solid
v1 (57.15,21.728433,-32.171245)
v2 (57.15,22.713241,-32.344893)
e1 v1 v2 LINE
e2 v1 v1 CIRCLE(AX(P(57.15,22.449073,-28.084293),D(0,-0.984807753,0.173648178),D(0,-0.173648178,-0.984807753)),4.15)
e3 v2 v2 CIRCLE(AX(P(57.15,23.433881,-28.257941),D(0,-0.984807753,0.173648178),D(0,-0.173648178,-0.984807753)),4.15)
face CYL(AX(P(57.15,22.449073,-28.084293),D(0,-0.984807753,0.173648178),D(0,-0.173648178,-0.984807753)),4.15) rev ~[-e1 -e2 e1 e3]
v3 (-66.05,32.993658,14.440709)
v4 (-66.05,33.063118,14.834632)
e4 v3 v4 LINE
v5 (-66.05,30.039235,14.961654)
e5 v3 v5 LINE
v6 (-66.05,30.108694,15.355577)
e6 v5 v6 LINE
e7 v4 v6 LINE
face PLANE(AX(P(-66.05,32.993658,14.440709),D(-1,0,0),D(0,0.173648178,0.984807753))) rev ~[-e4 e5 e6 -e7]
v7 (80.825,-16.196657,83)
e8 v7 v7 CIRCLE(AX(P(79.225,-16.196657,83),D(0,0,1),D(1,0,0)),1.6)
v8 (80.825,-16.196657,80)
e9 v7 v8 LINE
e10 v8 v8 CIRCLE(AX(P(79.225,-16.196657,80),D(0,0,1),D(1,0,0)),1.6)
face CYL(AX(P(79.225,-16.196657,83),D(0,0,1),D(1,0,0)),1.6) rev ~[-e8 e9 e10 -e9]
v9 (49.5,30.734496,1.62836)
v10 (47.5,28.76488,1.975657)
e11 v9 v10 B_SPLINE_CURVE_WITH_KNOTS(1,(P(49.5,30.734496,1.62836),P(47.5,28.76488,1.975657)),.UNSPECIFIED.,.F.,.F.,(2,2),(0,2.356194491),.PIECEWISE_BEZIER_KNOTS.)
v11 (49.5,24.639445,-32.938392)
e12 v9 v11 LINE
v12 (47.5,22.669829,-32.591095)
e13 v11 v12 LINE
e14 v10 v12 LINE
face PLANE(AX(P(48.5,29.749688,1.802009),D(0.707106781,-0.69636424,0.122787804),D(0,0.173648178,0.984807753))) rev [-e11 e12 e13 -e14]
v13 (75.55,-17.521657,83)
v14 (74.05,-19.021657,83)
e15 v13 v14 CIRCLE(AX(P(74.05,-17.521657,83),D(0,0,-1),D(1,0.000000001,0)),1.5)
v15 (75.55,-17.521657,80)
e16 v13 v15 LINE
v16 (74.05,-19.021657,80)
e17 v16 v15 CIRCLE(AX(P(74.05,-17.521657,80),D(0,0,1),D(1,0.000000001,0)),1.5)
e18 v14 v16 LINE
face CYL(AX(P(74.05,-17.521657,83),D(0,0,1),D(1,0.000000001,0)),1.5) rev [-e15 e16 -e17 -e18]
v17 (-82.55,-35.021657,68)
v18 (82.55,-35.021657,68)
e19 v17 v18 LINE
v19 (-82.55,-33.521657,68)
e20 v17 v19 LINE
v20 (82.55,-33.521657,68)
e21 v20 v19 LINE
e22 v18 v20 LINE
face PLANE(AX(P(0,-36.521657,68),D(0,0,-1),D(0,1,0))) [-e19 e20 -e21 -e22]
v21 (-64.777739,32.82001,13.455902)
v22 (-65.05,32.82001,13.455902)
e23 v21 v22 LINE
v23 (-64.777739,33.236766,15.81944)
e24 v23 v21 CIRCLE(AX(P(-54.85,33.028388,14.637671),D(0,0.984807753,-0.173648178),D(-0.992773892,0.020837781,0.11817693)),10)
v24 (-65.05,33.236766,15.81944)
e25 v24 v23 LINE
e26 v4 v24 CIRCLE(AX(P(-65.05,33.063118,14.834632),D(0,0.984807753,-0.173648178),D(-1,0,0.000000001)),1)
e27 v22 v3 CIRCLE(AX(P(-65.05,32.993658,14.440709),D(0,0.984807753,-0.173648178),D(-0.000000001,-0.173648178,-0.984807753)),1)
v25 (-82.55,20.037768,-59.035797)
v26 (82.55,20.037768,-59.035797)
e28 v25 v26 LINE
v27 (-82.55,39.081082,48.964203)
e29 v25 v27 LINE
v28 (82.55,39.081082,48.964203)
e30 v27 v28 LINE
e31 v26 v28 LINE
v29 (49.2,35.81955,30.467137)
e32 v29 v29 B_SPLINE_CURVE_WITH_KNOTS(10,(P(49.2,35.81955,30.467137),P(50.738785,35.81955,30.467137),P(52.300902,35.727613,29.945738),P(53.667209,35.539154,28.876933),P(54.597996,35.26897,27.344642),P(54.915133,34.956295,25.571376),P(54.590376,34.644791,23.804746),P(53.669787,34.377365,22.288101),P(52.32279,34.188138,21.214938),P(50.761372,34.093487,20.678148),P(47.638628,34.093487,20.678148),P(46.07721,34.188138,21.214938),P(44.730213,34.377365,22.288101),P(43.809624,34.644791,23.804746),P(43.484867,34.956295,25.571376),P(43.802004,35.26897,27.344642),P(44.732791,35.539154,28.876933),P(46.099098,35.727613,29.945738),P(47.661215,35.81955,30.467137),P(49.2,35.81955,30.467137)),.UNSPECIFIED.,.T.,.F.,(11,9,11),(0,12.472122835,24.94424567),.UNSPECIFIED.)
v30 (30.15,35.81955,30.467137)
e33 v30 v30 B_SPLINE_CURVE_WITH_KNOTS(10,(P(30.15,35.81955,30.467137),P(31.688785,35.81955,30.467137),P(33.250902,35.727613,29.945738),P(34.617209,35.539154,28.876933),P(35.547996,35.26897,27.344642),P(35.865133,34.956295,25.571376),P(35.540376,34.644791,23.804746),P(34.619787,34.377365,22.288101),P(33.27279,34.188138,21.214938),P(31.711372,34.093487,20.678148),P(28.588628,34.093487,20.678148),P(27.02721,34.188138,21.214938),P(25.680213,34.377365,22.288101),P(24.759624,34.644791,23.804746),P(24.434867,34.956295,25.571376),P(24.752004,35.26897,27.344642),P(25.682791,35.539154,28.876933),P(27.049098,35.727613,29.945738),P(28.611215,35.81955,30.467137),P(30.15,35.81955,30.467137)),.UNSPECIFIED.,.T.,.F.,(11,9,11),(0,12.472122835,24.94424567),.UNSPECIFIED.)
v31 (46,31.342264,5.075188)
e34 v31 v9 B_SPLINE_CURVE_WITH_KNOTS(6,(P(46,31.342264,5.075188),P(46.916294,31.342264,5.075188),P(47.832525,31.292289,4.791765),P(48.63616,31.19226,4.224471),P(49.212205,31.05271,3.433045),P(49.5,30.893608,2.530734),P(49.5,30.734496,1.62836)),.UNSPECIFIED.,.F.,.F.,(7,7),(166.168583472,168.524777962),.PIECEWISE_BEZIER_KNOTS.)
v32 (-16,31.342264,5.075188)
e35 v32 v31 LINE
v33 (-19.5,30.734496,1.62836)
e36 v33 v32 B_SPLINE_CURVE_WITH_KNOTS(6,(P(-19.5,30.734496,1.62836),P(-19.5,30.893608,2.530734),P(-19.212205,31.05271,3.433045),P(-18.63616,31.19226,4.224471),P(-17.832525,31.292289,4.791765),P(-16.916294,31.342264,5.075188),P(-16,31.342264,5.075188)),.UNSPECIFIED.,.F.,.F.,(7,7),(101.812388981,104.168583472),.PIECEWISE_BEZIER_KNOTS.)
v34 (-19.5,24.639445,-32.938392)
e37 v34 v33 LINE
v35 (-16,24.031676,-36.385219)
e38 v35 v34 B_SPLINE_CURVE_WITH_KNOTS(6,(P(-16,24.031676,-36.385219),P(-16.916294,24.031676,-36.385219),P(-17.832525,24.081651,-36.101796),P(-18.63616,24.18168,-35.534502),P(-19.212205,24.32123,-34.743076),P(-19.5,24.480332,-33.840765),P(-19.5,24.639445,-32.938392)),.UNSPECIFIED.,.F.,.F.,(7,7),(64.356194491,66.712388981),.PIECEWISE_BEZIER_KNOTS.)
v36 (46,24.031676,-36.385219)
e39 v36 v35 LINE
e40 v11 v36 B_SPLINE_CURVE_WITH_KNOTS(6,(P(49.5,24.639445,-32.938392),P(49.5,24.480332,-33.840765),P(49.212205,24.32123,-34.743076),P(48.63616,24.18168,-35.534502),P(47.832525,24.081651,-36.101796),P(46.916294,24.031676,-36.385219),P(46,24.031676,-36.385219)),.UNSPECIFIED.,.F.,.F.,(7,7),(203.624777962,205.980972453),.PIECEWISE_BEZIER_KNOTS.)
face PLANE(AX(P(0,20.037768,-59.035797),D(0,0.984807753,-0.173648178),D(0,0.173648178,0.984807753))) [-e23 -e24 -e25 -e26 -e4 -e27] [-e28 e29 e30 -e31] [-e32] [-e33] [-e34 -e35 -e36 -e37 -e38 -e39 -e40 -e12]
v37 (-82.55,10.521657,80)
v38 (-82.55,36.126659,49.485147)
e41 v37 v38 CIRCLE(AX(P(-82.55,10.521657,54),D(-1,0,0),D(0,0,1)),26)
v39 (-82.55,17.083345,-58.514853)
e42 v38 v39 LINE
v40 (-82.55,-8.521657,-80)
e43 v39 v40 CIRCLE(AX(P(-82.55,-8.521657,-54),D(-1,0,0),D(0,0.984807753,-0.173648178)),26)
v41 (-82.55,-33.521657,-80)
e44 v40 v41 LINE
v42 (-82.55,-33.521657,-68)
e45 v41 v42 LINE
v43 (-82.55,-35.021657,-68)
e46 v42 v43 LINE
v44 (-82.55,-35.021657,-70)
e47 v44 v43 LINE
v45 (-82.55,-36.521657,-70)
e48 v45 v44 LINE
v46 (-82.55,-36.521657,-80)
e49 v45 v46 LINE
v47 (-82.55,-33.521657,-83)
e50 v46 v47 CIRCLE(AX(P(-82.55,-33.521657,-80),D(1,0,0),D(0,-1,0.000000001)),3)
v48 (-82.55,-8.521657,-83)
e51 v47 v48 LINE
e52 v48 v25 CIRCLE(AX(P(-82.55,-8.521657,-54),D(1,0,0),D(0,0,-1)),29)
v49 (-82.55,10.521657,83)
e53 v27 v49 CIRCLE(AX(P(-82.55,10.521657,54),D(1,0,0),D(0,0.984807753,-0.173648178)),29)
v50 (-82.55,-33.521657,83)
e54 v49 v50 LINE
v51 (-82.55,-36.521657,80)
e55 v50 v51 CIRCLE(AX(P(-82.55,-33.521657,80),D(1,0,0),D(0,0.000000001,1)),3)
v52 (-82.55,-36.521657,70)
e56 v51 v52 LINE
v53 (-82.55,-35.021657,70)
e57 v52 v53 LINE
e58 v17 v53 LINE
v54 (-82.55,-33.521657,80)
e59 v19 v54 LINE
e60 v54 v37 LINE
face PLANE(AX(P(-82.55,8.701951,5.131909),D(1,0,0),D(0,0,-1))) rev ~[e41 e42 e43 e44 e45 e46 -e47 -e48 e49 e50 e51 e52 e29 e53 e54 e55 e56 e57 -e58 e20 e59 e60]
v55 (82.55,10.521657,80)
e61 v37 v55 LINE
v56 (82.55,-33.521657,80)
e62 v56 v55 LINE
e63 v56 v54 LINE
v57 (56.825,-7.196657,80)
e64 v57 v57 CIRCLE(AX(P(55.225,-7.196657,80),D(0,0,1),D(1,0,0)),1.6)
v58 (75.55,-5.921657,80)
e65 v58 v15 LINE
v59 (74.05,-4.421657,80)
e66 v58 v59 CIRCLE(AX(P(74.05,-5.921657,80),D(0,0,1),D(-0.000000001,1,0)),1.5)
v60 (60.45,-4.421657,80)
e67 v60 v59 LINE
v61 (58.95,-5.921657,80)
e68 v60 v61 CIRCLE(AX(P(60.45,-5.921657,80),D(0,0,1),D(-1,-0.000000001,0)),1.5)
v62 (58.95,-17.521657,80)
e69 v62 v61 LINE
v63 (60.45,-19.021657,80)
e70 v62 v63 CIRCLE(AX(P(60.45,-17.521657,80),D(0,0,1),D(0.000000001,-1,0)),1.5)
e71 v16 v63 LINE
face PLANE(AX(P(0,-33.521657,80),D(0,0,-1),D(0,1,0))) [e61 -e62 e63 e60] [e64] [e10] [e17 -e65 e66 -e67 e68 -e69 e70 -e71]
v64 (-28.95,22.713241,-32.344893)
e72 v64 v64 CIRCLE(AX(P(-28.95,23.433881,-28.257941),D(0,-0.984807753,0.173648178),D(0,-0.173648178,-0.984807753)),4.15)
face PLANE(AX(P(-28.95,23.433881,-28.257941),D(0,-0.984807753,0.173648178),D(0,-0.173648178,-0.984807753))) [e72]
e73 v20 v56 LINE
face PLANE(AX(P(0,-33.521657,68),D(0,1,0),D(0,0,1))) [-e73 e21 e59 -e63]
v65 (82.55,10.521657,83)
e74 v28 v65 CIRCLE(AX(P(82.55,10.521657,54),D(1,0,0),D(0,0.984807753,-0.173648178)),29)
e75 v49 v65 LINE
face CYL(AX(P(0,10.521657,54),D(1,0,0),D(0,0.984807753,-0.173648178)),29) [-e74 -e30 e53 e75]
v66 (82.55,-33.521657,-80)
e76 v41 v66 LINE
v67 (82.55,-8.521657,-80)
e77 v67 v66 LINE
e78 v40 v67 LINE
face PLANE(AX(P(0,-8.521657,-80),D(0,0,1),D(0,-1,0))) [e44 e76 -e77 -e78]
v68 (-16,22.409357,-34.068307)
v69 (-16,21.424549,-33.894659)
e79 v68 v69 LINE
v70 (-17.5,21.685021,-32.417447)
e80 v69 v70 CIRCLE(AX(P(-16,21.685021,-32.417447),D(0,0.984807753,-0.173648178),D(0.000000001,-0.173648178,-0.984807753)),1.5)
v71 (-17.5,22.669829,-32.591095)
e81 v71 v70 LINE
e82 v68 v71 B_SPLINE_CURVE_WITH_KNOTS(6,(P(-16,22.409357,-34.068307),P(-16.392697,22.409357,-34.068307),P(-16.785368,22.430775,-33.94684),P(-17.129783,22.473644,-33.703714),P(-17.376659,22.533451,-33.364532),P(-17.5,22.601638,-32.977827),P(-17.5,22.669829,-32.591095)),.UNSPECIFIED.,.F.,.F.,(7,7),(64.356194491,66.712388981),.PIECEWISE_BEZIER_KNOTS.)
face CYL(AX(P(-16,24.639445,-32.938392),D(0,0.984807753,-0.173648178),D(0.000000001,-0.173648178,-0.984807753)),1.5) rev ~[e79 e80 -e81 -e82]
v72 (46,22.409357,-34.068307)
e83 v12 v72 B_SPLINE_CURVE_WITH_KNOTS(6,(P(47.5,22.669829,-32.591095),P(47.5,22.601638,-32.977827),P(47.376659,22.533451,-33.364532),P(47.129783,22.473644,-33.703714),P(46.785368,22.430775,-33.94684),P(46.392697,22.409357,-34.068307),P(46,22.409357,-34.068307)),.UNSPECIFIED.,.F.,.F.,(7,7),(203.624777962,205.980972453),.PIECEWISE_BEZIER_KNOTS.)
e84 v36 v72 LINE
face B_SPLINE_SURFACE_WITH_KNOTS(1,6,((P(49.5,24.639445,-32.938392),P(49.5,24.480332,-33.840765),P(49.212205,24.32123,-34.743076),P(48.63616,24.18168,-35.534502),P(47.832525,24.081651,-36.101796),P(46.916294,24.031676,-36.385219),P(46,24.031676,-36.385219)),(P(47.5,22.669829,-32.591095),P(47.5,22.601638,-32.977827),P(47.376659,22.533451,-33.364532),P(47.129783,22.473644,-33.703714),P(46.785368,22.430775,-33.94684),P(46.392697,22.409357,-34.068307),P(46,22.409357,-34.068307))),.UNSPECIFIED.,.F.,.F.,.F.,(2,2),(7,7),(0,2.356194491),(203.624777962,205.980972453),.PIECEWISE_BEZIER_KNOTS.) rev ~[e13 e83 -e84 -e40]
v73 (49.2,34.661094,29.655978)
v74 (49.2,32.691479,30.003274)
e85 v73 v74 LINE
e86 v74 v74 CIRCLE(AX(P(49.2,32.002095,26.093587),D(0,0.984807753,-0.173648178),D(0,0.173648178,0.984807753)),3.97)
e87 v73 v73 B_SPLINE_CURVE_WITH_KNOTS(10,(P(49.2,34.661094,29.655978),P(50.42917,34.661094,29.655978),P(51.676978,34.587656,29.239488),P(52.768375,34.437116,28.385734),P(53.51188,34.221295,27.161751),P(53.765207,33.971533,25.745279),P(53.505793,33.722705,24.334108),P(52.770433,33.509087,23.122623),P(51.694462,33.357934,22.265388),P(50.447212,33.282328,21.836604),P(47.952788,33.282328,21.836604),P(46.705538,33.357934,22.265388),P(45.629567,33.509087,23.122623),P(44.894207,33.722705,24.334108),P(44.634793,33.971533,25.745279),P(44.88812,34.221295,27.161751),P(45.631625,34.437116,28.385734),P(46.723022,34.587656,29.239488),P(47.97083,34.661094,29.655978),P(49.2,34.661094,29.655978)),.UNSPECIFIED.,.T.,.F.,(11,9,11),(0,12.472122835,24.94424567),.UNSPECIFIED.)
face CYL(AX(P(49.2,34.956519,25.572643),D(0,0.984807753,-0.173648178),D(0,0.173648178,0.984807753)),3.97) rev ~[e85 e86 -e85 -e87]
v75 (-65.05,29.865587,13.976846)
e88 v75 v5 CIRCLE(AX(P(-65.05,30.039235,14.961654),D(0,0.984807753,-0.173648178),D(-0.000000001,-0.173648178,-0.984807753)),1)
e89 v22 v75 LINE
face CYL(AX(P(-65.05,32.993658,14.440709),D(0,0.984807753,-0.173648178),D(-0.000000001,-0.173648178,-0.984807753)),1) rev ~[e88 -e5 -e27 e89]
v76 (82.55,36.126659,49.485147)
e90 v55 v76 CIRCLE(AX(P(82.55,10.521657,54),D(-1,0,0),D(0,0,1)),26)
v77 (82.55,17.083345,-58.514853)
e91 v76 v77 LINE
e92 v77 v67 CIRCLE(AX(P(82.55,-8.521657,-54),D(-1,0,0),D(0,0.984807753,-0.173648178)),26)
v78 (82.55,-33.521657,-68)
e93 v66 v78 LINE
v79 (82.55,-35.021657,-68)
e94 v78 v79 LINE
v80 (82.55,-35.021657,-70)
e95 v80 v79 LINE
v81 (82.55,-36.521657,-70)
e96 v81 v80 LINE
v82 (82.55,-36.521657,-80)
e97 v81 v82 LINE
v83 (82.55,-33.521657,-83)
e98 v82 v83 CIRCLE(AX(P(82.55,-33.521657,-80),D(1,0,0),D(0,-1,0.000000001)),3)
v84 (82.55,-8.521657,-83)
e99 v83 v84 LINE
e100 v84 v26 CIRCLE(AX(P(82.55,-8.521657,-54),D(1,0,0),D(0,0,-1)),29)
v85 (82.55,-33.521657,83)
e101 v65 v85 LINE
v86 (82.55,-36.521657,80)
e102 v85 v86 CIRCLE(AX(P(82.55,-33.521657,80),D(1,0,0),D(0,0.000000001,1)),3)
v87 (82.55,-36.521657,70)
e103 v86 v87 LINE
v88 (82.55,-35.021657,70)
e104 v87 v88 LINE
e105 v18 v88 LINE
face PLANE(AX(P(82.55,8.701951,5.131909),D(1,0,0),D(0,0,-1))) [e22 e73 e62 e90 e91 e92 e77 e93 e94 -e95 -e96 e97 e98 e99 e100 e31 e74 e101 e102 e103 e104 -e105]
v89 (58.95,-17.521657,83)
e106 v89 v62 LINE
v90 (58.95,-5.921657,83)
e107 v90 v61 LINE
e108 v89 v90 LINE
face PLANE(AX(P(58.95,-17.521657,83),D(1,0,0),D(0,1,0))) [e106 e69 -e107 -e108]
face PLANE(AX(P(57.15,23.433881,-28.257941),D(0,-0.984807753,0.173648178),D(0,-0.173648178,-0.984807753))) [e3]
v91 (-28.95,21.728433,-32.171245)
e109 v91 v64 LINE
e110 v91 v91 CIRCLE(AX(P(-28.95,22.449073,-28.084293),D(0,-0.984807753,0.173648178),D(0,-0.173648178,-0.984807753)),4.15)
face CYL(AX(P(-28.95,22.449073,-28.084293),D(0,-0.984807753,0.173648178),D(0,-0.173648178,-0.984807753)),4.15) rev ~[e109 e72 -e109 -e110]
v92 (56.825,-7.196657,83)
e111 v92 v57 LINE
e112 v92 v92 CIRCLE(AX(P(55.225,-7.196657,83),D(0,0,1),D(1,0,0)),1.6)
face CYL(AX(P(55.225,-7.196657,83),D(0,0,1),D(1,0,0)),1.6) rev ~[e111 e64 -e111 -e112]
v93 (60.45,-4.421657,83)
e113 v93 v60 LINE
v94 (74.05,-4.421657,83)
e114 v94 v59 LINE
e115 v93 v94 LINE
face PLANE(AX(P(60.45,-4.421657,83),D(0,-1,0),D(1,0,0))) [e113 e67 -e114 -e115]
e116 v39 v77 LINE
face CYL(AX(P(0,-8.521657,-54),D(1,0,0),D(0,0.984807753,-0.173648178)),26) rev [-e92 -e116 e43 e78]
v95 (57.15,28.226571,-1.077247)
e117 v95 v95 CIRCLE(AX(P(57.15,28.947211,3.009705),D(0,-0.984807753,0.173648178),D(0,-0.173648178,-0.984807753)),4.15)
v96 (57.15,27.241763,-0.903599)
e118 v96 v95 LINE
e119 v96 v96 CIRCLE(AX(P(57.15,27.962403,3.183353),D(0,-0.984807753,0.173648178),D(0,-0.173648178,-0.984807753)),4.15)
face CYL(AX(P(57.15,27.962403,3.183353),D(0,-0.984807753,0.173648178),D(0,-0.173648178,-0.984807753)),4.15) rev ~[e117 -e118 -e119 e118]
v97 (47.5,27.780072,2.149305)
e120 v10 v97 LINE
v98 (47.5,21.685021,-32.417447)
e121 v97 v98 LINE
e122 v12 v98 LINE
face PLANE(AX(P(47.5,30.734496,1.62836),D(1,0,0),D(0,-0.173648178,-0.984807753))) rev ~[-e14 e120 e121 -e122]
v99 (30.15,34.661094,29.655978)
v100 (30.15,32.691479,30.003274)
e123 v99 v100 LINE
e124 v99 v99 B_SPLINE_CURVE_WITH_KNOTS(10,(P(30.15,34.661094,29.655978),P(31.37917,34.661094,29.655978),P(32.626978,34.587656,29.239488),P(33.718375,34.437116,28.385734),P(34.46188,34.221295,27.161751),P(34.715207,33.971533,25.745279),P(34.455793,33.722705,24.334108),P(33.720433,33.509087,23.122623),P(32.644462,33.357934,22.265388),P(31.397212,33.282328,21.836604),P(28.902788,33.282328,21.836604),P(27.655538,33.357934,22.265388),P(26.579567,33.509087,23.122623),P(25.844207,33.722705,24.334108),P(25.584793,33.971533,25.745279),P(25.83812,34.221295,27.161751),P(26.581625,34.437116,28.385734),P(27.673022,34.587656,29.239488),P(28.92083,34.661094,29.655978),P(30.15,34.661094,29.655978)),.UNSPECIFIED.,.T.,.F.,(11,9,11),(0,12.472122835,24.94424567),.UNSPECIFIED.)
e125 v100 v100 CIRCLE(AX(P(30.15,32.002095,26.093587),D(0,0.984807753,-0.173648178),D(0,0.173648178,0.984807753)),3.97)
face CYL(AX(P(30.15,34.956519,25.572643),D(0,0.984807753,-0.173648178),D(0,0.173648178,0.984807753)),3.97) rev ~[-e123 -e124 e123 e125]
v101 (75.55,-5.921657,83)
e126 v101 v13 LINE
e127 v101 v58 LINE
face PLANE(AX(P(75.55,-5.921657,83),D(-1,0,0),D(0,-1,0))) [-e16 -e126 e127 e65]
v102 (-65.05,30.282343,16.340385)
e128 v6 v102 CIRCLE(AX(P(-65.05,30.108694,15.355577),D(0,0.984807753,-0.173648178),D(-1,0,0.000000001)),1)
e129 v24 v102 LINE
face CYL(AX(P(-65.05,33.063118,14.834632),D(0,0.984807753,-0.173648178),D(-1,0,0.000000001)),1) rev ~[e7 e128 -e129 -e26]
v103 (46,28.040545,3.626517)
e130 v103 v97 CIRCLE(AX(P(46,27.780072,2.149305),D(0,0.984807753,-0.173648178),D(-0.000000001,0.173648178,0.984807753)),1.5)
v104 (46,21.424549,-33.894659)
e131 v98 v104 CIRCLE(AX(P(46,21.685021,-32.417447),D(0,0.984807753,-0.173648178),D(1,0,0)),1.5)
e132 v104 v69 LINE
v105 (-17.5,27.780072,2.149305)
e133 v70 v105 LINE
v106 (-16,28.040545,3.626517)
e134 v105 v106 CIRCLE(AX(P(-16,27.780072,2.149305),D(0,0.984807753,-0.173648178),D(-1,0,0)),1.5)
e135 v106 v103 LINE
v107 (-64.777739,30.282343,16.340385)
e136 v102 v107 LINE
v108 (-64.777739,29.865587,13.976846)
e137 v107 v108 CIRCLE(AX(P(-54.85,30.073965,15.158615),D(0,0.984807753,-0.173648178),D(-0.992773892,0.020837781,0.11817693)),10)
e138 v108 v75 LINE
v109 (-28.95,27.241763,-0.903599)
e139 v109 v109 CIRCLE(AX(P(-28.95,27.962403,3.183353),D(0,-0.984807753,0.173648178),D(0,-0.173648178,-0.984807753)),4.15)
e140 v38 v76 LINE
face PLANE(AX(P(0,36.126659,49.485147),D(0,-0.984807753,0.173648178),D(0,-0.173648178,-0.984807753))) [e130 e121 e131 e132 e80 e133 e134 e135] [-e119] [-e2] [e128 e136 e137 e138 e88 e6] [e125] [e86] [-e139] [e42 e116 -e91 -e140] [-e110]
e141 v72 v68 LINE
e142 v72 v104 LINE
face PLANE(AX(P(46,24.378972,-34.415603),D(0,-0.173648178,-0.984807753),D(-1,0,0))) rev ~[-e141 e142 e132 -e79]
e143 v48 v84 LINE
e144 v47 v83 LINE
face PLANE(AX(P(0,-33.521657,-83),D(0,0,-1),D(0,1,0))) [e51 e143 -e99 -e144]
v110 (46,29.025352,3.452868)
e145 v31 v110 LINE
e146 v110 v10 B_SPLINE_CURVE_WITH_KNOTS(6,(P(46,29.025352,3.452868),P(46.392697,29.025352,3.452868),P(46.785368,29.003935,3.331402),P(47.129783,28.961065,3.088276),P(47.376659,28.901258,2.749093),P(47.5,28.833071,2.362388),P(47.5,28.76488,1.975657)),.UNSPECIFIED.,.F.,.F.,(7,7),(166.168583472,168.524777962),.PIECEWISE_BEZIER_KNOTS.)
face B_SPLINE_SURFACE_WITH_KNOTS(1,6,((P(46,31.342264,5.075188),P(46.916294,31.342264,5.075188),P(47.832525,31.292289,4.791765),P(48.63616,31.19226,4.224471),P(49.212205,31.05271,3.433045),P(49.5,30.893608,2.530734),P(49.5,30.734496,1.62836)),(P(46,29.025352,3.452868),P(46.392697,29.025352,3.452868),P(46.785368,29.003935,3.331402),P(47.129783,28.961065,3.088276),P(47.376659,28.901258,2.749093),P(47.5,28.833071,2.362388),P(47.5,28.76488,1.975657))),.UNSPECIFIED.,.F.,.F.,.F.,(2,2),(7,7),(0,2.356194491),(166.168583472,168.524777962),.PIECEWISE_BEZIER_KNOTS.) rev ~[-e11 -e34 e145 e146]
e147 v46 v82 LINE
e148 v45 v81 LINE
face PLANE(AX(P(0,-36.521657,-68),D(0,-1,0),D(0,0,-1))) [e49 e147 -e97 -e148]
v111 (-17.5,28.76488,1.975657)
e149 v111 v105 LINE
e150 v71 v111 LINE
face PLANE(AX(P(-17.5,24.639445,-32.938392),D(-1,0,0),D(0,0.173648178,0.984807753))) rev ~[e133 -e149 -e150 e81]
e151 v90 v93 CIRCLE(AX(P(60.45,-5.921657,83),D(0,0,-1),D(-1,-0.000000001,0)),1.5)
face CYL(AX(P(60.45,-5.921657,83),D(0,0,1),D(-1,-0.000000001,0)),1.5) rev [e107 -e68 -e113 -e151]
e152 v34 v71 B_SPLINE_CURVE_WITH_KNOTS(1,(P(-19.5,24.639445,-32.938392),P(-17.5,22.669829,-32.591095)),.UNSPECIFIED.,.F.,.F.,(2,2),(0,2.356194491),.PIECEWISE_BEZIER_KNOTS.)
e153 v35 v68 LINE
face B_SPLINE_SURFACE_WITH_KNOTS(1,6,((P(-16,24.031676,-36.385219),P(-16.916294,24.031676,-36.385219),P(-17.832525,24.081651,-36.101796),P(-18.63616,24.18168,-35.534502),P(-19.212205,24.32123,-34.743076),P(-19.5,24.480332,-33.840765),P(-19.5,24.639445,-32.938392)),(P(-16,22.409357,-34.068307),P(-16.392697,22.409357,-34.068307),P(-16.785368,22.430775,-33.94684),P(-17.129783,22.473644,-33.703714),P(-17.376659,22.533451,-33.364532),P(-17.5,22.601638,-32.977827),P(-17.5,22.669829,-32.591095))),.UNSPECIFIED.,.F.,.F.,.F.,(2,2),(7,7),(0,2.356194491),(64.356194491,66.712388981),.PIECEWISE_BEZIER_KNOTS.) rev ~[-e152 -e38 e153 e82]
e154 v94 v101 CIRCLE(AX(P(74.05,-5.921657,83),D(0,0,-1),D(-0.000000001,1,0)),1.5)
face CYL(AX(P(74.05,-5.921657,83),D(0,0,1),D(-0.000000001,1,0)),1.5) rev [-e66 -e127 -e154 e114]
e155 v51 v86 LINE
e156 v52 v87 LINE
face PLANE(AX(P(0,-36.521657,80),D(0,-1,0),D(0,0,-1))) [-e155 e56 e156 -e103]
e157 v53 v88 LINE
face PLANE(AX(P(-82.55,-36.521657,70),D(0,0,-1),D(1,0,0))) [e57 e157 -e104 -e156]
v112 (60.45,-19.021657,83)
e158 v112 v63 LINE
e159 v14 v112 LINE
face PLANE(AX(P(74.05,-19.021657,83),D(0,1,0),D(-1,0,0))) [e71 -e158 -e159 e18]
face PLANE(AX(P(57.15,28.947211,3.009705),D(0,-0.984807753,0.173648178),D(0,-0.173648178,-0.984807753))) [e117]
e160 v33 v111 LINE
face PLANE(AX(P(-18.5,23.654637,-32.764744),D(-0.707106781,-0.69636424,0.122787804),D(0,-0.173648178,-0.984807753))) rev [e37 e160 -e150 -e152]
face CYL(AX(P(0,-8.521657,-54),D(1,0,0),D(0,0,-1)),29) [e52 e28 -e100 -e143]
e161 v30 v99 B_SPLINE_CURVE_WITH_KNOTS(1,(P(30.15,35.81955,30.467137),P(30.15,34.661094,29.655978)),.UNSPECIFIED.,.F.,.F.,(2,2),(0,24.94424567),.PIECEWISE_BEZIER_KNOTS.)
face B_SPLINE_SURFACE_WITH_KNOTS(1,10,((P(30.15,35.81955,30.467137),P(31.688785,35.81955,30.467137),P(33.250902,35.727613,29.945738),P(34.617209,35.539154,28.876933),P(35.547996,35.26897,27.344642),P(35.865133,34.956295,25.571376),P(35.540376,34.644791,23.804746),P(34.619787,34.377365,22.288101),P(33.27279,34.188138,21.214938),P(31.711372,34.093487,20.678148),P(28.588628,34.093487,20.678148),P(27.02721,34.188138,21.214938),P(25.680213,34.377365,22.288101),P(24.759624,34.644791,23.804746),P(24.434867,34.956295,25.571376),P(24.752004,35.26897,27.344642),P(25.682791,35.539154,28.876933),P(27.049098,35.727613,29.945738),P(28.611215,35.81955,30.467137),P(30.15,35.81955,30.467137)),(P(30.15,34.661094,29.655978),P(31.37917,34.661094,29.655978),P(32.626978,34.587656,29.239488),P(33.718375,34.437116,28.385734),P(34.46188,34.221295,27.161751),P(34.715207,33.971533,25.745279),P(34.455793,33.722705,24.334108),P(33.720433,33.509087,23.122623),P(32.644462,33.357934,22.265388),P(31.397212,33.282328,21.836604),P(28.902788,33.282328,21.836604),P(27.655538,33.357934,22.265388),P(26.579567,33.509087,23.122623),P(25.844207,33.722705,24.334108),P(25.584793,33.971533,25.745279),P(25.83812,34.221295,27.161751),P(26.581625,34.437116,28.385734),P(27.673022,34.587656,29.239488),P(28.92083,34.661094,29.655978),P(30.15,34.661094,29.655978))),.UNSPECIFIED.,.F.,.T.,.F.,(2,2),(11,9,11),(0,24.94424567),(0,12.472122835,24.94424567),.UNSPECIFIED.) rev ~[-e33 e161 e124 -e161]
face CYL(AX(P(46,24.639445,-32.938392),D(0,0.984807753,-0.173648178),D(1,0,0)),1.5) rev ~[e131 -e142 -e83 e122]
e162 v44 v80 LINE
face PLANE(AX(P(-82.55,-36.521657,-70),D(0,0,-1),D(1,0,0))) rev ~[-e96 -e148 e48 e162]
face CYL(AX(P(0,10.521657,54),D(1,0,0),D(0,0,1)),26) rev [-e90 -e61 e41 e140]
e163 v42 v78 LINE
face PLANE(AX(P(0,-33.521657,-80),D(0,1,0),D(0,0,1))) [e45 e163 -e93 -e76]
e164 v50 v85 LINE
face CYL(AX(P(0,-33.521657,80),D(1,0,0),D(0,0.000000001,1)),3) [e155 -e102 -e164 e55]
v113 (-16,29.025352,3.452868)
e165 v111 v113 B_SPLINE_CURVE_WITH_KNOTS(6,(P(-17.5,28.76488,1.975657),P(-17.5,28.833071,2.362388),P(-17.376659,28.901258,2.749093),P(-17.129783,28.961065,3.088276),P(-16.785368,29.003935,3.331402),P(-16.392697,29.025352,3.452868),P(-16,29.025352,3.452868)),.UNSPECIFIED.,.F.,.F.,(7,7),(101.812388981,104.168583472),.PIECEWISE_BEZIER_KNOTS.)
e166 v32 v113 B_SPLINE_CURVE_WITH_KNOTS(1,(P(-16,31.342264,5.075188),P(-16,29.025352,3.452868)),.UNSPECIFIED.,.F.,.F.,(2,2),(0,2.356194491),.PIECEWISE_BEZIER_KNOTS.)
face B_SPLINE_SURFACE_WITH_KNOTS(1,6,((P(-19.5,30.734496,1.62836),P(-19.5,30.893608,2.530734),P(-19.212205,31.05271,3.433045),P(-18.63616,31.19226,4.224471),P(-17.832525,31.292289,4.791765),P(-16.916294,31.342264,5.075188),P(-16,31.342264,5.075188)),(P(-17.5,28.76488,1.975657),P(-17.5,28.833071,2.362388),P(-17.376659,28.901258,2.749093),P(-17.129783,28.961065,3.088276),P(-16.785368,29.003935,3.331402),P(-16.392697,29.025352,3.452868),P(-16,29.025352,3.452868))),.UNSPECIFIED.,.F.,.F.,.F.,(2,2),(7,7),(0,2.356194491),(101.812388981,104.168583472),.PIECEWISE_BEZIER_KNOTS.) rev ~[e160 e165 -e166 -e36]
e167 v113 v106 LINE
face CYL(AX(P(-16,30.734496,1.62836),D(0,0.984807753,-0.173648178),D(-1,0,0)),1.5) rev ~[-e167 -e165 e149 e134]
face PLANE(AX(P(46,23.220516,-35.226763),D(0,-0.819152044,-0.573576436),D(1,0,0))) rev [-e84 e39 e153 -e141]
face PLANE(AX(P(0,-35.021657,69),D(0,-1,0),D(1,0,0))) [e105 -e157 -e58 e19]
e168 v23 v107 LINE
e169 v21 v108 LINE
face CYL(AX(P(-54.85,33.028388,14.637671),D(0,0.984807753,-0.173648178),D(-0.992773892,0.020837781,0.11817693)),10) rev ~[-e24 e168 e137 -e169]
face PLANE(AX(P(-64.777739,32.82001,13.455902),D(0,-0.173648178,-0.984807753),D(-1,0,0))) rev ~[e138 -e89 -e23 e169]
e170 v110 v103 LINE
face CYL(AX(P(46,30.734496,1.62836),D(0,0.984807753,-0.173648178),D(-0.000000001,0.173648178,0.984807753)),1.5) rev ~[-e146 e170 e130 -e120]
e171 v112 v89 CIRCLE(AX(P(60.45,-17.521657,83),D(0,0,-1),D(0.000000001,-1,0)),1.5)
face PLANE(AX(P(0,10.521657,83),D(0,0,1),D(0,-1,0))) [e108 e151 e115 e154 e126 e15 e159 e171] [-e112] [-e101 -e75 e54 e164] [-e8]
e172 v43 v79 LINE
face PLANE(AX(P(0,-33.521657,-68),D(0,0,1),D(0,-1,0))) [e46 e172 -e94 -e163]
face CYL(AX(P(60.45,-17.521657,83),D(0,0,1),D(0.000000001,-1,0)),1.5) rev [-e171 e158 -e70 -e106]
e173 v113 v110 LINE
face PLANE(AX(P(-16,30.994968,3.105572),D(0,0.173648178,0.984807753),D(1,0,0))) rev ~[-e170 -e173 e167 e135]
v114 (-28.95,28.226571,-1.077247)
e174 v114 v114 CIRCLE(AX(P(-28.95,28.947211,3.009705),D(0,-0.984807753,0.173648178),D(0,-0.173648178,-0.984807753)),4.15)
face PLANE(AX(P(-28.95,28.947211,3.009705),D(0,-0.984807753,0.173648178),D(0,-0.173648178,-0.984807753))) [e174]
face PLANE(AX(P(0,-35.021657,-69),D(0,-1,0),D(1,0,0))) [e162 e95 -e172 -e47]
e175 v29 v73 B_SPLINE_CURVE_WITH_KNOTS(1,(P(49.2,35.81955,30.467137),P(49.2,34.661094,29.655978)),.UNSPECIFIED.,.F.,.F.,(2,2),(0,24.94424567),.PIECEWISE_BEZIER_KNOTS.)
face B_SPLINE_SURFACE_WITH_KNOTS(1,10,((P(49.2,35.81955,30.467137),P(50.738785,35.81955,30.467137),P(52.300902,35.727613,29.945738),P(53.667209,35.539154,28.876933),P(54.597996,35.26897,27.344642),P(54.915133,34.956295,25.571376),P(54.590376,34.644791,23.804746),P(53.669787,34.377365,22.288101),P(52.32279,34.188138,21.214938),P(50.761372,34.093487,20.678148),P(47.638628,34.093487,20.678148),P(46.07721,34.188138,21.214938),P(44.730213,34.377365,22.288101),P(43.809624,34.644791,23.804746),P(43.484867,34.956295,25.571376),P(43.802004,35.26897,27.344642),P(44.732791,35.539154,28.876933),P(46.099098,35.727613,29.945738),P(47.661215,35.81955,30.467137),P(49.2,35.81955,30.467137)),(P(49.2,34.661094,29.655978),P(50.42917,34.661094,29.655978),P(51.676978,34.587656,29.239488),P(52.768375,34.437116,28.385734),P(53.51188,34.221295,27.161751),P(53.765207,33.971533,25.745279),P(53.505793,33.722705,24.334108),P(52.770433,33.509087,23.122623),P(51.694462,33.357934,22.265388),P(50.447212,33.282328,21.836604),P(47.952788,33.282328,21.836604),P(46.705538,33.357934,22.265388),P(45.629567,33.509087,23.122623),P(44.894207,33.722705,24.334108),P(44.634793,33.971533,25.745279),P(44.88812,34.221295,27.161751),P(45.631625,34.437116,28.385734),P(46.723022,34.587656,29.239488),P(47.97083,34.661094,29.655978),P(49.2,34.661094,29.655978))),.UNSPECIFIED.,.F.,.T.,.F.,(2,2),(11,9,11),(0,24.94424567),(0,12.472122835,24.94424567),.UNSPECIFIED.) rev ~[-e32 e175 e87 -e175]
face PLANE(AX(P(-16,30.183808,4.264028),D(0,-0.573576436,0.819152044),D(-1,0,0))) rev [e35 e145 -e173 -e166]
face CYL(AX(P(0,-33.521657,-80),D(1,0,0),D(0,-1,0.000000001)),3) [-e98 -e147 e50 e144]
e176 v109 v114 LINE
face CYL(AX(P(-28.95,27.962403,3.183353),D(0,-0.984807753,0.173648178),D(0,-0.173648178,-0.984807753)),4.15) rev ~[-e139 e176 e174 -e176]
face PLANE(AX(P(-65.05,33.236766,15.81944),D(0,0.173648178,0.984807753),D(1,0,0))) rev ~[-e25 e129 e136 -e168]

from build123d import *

# Parameters (mm, degrees)
BOSS_EXTRUDE1_DEPTH = 82.55
CUT_EXTRUDE1_REACH  = 139.687
CUT_EXTRUDE2_REACH  = 139.687
SKETCH3_R           = 3.97
SKETCH5_R           = 4.15
CUT_EXTRUDE4_DEPTH  = 1
CUT_EXTRUDE5_REACH  = 191.559
SKETCH6_R           = 1.6
CHAMFER1_SIZE       = 2
CHAMFER2_SIZE       = 1
SKETCH7_W           = 165.1
SKETCH7_H           = 2
CUT_EXTRUDE6_DEPTH  = 1.5


with BuildPart() as part:
    # Sketch1 → Boss-Extrude1 (new, symmetric)
    with BuildSketch(Plane(origin=(0, 0, 0), x_dir=(0, 0, -1), z_dir=(1, 0, 0))):
        with BuildLine():
            Line((-80, -33.521656958), (-80, 10.521656958))
            ThreePointArc((-80, 10.521656958), (-70.712477852, 30.438812479), (-49.485147381, 36.126658537))
            Line((-49.485147381, 36.126658537), (58.514852619, 17.08334462))
            ThreePointArc((58.514852619, 17.08334462), (73.917155521, 8.190820894), (80, -8.521656958))
            Line((80, -8.521656958), (80, -33.521656958))
            Line((80, -33.521656958), (68, -33.521656958))
            Line((68, -33.521656958), (68, -36.521656958))
            Line((68, -36.521656958), (80, -36.521656958))
            ThreePointArc((80, -36.521656958), (82.121320344, -35.642977302), (83, -33.521656958))
            Line((83, -33.521656958), (83, -8.521656958))
            ThreePointArc((83, -8.521656958), (76.21528885, 10.119183723), (59.035797152, 20.037767879))
            Line((59.035797152, 20.037767879), (-48.964202848, 39.081081796))
            ThreePointArc((-48.964202848, 39.081081796), (-72.640840681, 32.736945809), (-83, 10.521656958))
            Line((-83, 10.521656958), (-83, -33.521656958))
            ThreePointArc((-83, -33.521656958), (-82.121320344, -35.642977302), (-80, -36.521656958))
            Line((-80, -36.521656958), (-68, -36.521656958))
            Line((-68, -36.521656958), (-68, -33.521656958))
            Line((-68, -33.521656958), (-80, -33.521656958))
        make_face()
    extrude(amount=BOSS_EXTRUDE1_DEPTH, both=True)

    # Sketch2 → Cut-Extrude1 (cut, up to next)
    with BuildSketch(Plane(origin=(0, 29.529271148, -5.206807224), x_dir=(1, 0, 0), z_dir=(0, 0.984807753012209, -0.1736481776669248)), mode=Mode.PRIVATE) as cut_extrude1_sk1:
        with BuildLine():
            Line((-16, -8.440611136), (46, -8.440611136))
            ThreePointArc((46, -8.440611136), (47.060660172, -8.001271308), (47.5, -6.940611136))
            Line((47.5, -6.940611136), (47.5, 28.159388864))
            ThreePointArc((47.5, 28.159388864), (47.060660172, 29.220049036), (46, 29.659388864))
            Line((46, 29.659388864), (-16, 29.659388864))
            ThreePointArc((-16, 29.659388864), (-17.060660172, 29.220049036), (-17.5, 28.159388864))
            Line((-17.5, 28.159388864), (-17.5, -6.940611136))
            ThreePointArc((-17.5, -6.940611136), (-17.060660172, -8.001271308), (-16, -8.440611136))
        make_face()
    cut_extrude1_tool1 = extrude(cut_extrude1_sk1.sketch, amount=-CUT_EXTRUDE1_REACH, mode=Mode.PRIVATE) & part.part
    add(cut_extrude1_tool1.solids().sort_by_distance((15, 27.68697, -15.655016))[0], mode=Mode.SUBTRACT)

    # Sketch3 → Cut-Extrude2 (cut, up to next)
    with BuildSketch(Plane(origin=(0, 29.529271148, -5.206807224), x_dir=(1, 0, 0), z_dir=(0, 0.984807753012209, -0.1736481776669248)), mode=Mode.PRIVATE) as cut_extrude2_sk1:
        with Locations(Location((49.2, -31.254272732, 0), (0, 0, 270))):
            Circle(SKETCH3_R)
    cut_extrude2_tool1 = extrude(cut_extrude2_sk1.sketch, amount=-CUT_EXTRUDE2_REACH, mode=Mode.PRIVATE) & part.part
    # Sketch3 → Cut-Extrude2 (cut, up to next)
    with BuildSketch(Plane(origin=(0, 29.529271148, -5.206807224), x_dir=(1, 0, 0), z_dir=(0, 0.984807753012209, -0.1736481776669248)), mode=Mode.PRIVATE) as cut_extrude2_sk2:
        with Locations(Location((30.15, -31.254272732, 0), (0, 0, 270))):
            Circle(SKETCH3_R)
    cut_extrude2_tool2 = extrude(cut_extrude2_sk2.sketch, amount=-CUT_EXTRUDE2_REACH, mode=Mode.PRIVATE) & part.part
    # Sketch3 → Cut-Extrude2 (cut, up to next)
    with BuildSketch(Plane(origin=(0, 29.529271148, -5.206807224), x_dir=(1, 0, 0), z_dir=(0, 0.984807753012209, -0.1736481776669248)), mode=Mode.PRIVATE) as cut_extrude2_sk3:
        with BuildLine():
            Line((-64.777738917, -18.950611136), (-65.05, -18.950611136))
            ThreePointArc((-65.05, -18.950611136), (-65.757106781, -19.243504355), (-66.05, -19.950611136))
            Line((-66.05, -19.950611136), (-66.05, -20.350611136))
            ThreePointArc((-66.05, -20.350611136), (-65.757106781, -21.057717917), (-65.05, -21.350611136))
            Line((-65.05, -21.350611136), (-64.777738917, -21.350611136))
            ThreePointArc((-64.777738917, -21.350611136), (-44.85, -20.150611136), (-64.777738917, -18.950611136))
        make_face()
    cut_extrude2_tool3 = extrude(cut_extrude2_sk3.sketch, amount=-CUT_EXTRUDE2_REACH, mode=Mode.PRIVATE) & part.part
    add(cut_extrude2_tool1.solids().sort_by_distance((49.2, 34.956519, 25.572643))[0], mode=Mode.SUBTRACT)
    add(cut_extrude2_tool2.solids().sort_by_distance((30.15, 34.956519, 25.572643))[0], mode=Mode.SUBTRACT)
    add(cut_extrude2_tool3.solids().sort_by_distance((-54.933345, 33.028388, 14.637671))[0], mode=Mode.SUBTRACT)

    # Sketch5 → Cut-Extrude4 (cut)
    with BuildSketch(Plane(origin=(0, 26.574847889, -4.685862691), x_dir=(1, 0, 0), z_dir=(0, -0.984807753012209, 0.1736481776669249))):
        with Locations(Location((57.15, -23.759388864, 0), (0, 0, 270))):
            Circle(SKETCH5_R)
        with Locations(Location((-28.95, -23.759388864, 0), (0, 0, 270))):
            Circle(SKETCH5_R)
        with Locations(Location((-28.95, 7.990611136, 0), (0, 0, 270))):
            Circle(SKETCH5_R)
        with Locations(Location((57.15, 7.990611136, 0), (0, 0, 270))):
            Circle(SKETCH5_R)
    extrude(amount=-CUT_EXTRUDE4_DEPTH, mode=Mode.SUBTRACT)

    # Sketch6 → Cut-Extrude5 (cut, up to next)
    with BuildSketch(Plane.XY.offset(83), mode=Mode.PRIVATE) as cut_extrude5_sk1:
        with Locations((79.225, -16.196656958)):
            Circle(SKETCH6_R)
    cut_extrude5_tool1 = extrude(cut_extrude5_sk1.sketch, amount=-CUT_EXTRUDE5_REACH, mode=Mode.PRIVATE) & part.part
    # Sketch6 → Cut-Extrude5 (cut, up to next)
    with BuildSketch(Plane.XY.offset(83), mode=Mode.PRIVATE) as cut_extrude5_sk2:
        with Locations((55.225, -7.196656958)):
            Circle(SKETCH6_R)
    cut_extrude5_tool2 = extrude(cut_extrude5_sk2.sketch, amount=-CUT_EXTRUDE5_REACH, mode=Mode.PRIVATE) & part.part
    # Sketch6 → Cut-Extrude5 (cut, up to next)
    with BuildSketch(Plane.XY.offset(83), mode=Mode.PRIVATE) as cut_extrude5_sk3:
        with BuildLine():
            Line((60.45, -4.421656958), (74.05, -4.421656958))
            ThreePointArc((74.05, -4.421656958), (75.110660172, -4.860996786), (75.55, -5.921656958))
            Line((75.55, -5.921656958), (75.55, -17.521656958))
            ThreePointArc((75.55, -17.521656958), (75.110660172, -18.58231713), (74.05, -19.021656958))
            Line((74.05, -19.021656958), (60.45, -19.021656958))
            ThreePointArc((60.45, -19.021656958), (59.389339828, -18.58231713), (58.95, -17.521656958))
            Line((58.95, -17.521656958), (58.95, -5.921656958))
            ThreePointArc((58.95, -5.921656958), (59.389339828, -4.860996786), (60.45, -4.421656958))
        make_face()
    cut_extrude5_tool3 = extrude(cut_extrude5_sk3.sketch, amount=-CUT_EXTRUDE5_REACH, mode=Mode.PRIVATE) & part.part
    add(cut_extrude5_tool1.solids().sort_by_distance((79.225, -16.196657, 83))[0], mode=Mode.SUBTRACT)
    add(cut_extrude5_tool2.solids().sort_by_distance((55.225, -7.196657, 83))[0], mode=Mode.SUBTRACT)
    add(cut_extrude5_tool3.solids().sort_by_distance((67.25, -11.721657, 83))[0], mode=Mode.SUBTRACT)

    # Chamfer1
    chamfer1_edges = [part.edges().sort_by_distance(p)[0] for p in [
        (47.060660172, 24.455262881, -33.982938058),
        (15, 24.378972321, -34.415603327),
        (-17.060660172, 24.455262881, -33.982938058),
        (-17.5, 27.686970105, -15.655015632),
        (-17.060660172, 30.918677329, 2.672906794),
        (15, 30.99496789, 3.105572063),
        (47.060660172, 30.918677329, 2.672906794),
        (47.5, 27.686970105, -15.655015632),
    ]]
    chamfer(chamfer1_edges, length=CHAMFER1_SIZE)

    # Chamfer2
    chamfer2_edges = [part.edges().sort_by_distance(p)[0] for p in [
        (49.2, 34.267135387, 21.662956098),
        (30.15, 34.267135387, 21.662956098),
    ]]
    chamfer(chamfer2_edges, length=CHAMFER2_SIZE)

    # Sketch7 → Cut-Extrude6 (cut)
    with BuildSketch(Plane.XZ.offset(36.521656958)):
        with Locations((0, 69)):
            Rectangle(SKETCH7_W, SKETCH7_H)
        with Locations((0, -69)):
            Rectangle(SKETCH7_W, SKETCH7_H)
    extrude(amount=-CUT_EXTRUDE6_DEPTH, mode=Mode.SUBTRACT)


solid = part.part
